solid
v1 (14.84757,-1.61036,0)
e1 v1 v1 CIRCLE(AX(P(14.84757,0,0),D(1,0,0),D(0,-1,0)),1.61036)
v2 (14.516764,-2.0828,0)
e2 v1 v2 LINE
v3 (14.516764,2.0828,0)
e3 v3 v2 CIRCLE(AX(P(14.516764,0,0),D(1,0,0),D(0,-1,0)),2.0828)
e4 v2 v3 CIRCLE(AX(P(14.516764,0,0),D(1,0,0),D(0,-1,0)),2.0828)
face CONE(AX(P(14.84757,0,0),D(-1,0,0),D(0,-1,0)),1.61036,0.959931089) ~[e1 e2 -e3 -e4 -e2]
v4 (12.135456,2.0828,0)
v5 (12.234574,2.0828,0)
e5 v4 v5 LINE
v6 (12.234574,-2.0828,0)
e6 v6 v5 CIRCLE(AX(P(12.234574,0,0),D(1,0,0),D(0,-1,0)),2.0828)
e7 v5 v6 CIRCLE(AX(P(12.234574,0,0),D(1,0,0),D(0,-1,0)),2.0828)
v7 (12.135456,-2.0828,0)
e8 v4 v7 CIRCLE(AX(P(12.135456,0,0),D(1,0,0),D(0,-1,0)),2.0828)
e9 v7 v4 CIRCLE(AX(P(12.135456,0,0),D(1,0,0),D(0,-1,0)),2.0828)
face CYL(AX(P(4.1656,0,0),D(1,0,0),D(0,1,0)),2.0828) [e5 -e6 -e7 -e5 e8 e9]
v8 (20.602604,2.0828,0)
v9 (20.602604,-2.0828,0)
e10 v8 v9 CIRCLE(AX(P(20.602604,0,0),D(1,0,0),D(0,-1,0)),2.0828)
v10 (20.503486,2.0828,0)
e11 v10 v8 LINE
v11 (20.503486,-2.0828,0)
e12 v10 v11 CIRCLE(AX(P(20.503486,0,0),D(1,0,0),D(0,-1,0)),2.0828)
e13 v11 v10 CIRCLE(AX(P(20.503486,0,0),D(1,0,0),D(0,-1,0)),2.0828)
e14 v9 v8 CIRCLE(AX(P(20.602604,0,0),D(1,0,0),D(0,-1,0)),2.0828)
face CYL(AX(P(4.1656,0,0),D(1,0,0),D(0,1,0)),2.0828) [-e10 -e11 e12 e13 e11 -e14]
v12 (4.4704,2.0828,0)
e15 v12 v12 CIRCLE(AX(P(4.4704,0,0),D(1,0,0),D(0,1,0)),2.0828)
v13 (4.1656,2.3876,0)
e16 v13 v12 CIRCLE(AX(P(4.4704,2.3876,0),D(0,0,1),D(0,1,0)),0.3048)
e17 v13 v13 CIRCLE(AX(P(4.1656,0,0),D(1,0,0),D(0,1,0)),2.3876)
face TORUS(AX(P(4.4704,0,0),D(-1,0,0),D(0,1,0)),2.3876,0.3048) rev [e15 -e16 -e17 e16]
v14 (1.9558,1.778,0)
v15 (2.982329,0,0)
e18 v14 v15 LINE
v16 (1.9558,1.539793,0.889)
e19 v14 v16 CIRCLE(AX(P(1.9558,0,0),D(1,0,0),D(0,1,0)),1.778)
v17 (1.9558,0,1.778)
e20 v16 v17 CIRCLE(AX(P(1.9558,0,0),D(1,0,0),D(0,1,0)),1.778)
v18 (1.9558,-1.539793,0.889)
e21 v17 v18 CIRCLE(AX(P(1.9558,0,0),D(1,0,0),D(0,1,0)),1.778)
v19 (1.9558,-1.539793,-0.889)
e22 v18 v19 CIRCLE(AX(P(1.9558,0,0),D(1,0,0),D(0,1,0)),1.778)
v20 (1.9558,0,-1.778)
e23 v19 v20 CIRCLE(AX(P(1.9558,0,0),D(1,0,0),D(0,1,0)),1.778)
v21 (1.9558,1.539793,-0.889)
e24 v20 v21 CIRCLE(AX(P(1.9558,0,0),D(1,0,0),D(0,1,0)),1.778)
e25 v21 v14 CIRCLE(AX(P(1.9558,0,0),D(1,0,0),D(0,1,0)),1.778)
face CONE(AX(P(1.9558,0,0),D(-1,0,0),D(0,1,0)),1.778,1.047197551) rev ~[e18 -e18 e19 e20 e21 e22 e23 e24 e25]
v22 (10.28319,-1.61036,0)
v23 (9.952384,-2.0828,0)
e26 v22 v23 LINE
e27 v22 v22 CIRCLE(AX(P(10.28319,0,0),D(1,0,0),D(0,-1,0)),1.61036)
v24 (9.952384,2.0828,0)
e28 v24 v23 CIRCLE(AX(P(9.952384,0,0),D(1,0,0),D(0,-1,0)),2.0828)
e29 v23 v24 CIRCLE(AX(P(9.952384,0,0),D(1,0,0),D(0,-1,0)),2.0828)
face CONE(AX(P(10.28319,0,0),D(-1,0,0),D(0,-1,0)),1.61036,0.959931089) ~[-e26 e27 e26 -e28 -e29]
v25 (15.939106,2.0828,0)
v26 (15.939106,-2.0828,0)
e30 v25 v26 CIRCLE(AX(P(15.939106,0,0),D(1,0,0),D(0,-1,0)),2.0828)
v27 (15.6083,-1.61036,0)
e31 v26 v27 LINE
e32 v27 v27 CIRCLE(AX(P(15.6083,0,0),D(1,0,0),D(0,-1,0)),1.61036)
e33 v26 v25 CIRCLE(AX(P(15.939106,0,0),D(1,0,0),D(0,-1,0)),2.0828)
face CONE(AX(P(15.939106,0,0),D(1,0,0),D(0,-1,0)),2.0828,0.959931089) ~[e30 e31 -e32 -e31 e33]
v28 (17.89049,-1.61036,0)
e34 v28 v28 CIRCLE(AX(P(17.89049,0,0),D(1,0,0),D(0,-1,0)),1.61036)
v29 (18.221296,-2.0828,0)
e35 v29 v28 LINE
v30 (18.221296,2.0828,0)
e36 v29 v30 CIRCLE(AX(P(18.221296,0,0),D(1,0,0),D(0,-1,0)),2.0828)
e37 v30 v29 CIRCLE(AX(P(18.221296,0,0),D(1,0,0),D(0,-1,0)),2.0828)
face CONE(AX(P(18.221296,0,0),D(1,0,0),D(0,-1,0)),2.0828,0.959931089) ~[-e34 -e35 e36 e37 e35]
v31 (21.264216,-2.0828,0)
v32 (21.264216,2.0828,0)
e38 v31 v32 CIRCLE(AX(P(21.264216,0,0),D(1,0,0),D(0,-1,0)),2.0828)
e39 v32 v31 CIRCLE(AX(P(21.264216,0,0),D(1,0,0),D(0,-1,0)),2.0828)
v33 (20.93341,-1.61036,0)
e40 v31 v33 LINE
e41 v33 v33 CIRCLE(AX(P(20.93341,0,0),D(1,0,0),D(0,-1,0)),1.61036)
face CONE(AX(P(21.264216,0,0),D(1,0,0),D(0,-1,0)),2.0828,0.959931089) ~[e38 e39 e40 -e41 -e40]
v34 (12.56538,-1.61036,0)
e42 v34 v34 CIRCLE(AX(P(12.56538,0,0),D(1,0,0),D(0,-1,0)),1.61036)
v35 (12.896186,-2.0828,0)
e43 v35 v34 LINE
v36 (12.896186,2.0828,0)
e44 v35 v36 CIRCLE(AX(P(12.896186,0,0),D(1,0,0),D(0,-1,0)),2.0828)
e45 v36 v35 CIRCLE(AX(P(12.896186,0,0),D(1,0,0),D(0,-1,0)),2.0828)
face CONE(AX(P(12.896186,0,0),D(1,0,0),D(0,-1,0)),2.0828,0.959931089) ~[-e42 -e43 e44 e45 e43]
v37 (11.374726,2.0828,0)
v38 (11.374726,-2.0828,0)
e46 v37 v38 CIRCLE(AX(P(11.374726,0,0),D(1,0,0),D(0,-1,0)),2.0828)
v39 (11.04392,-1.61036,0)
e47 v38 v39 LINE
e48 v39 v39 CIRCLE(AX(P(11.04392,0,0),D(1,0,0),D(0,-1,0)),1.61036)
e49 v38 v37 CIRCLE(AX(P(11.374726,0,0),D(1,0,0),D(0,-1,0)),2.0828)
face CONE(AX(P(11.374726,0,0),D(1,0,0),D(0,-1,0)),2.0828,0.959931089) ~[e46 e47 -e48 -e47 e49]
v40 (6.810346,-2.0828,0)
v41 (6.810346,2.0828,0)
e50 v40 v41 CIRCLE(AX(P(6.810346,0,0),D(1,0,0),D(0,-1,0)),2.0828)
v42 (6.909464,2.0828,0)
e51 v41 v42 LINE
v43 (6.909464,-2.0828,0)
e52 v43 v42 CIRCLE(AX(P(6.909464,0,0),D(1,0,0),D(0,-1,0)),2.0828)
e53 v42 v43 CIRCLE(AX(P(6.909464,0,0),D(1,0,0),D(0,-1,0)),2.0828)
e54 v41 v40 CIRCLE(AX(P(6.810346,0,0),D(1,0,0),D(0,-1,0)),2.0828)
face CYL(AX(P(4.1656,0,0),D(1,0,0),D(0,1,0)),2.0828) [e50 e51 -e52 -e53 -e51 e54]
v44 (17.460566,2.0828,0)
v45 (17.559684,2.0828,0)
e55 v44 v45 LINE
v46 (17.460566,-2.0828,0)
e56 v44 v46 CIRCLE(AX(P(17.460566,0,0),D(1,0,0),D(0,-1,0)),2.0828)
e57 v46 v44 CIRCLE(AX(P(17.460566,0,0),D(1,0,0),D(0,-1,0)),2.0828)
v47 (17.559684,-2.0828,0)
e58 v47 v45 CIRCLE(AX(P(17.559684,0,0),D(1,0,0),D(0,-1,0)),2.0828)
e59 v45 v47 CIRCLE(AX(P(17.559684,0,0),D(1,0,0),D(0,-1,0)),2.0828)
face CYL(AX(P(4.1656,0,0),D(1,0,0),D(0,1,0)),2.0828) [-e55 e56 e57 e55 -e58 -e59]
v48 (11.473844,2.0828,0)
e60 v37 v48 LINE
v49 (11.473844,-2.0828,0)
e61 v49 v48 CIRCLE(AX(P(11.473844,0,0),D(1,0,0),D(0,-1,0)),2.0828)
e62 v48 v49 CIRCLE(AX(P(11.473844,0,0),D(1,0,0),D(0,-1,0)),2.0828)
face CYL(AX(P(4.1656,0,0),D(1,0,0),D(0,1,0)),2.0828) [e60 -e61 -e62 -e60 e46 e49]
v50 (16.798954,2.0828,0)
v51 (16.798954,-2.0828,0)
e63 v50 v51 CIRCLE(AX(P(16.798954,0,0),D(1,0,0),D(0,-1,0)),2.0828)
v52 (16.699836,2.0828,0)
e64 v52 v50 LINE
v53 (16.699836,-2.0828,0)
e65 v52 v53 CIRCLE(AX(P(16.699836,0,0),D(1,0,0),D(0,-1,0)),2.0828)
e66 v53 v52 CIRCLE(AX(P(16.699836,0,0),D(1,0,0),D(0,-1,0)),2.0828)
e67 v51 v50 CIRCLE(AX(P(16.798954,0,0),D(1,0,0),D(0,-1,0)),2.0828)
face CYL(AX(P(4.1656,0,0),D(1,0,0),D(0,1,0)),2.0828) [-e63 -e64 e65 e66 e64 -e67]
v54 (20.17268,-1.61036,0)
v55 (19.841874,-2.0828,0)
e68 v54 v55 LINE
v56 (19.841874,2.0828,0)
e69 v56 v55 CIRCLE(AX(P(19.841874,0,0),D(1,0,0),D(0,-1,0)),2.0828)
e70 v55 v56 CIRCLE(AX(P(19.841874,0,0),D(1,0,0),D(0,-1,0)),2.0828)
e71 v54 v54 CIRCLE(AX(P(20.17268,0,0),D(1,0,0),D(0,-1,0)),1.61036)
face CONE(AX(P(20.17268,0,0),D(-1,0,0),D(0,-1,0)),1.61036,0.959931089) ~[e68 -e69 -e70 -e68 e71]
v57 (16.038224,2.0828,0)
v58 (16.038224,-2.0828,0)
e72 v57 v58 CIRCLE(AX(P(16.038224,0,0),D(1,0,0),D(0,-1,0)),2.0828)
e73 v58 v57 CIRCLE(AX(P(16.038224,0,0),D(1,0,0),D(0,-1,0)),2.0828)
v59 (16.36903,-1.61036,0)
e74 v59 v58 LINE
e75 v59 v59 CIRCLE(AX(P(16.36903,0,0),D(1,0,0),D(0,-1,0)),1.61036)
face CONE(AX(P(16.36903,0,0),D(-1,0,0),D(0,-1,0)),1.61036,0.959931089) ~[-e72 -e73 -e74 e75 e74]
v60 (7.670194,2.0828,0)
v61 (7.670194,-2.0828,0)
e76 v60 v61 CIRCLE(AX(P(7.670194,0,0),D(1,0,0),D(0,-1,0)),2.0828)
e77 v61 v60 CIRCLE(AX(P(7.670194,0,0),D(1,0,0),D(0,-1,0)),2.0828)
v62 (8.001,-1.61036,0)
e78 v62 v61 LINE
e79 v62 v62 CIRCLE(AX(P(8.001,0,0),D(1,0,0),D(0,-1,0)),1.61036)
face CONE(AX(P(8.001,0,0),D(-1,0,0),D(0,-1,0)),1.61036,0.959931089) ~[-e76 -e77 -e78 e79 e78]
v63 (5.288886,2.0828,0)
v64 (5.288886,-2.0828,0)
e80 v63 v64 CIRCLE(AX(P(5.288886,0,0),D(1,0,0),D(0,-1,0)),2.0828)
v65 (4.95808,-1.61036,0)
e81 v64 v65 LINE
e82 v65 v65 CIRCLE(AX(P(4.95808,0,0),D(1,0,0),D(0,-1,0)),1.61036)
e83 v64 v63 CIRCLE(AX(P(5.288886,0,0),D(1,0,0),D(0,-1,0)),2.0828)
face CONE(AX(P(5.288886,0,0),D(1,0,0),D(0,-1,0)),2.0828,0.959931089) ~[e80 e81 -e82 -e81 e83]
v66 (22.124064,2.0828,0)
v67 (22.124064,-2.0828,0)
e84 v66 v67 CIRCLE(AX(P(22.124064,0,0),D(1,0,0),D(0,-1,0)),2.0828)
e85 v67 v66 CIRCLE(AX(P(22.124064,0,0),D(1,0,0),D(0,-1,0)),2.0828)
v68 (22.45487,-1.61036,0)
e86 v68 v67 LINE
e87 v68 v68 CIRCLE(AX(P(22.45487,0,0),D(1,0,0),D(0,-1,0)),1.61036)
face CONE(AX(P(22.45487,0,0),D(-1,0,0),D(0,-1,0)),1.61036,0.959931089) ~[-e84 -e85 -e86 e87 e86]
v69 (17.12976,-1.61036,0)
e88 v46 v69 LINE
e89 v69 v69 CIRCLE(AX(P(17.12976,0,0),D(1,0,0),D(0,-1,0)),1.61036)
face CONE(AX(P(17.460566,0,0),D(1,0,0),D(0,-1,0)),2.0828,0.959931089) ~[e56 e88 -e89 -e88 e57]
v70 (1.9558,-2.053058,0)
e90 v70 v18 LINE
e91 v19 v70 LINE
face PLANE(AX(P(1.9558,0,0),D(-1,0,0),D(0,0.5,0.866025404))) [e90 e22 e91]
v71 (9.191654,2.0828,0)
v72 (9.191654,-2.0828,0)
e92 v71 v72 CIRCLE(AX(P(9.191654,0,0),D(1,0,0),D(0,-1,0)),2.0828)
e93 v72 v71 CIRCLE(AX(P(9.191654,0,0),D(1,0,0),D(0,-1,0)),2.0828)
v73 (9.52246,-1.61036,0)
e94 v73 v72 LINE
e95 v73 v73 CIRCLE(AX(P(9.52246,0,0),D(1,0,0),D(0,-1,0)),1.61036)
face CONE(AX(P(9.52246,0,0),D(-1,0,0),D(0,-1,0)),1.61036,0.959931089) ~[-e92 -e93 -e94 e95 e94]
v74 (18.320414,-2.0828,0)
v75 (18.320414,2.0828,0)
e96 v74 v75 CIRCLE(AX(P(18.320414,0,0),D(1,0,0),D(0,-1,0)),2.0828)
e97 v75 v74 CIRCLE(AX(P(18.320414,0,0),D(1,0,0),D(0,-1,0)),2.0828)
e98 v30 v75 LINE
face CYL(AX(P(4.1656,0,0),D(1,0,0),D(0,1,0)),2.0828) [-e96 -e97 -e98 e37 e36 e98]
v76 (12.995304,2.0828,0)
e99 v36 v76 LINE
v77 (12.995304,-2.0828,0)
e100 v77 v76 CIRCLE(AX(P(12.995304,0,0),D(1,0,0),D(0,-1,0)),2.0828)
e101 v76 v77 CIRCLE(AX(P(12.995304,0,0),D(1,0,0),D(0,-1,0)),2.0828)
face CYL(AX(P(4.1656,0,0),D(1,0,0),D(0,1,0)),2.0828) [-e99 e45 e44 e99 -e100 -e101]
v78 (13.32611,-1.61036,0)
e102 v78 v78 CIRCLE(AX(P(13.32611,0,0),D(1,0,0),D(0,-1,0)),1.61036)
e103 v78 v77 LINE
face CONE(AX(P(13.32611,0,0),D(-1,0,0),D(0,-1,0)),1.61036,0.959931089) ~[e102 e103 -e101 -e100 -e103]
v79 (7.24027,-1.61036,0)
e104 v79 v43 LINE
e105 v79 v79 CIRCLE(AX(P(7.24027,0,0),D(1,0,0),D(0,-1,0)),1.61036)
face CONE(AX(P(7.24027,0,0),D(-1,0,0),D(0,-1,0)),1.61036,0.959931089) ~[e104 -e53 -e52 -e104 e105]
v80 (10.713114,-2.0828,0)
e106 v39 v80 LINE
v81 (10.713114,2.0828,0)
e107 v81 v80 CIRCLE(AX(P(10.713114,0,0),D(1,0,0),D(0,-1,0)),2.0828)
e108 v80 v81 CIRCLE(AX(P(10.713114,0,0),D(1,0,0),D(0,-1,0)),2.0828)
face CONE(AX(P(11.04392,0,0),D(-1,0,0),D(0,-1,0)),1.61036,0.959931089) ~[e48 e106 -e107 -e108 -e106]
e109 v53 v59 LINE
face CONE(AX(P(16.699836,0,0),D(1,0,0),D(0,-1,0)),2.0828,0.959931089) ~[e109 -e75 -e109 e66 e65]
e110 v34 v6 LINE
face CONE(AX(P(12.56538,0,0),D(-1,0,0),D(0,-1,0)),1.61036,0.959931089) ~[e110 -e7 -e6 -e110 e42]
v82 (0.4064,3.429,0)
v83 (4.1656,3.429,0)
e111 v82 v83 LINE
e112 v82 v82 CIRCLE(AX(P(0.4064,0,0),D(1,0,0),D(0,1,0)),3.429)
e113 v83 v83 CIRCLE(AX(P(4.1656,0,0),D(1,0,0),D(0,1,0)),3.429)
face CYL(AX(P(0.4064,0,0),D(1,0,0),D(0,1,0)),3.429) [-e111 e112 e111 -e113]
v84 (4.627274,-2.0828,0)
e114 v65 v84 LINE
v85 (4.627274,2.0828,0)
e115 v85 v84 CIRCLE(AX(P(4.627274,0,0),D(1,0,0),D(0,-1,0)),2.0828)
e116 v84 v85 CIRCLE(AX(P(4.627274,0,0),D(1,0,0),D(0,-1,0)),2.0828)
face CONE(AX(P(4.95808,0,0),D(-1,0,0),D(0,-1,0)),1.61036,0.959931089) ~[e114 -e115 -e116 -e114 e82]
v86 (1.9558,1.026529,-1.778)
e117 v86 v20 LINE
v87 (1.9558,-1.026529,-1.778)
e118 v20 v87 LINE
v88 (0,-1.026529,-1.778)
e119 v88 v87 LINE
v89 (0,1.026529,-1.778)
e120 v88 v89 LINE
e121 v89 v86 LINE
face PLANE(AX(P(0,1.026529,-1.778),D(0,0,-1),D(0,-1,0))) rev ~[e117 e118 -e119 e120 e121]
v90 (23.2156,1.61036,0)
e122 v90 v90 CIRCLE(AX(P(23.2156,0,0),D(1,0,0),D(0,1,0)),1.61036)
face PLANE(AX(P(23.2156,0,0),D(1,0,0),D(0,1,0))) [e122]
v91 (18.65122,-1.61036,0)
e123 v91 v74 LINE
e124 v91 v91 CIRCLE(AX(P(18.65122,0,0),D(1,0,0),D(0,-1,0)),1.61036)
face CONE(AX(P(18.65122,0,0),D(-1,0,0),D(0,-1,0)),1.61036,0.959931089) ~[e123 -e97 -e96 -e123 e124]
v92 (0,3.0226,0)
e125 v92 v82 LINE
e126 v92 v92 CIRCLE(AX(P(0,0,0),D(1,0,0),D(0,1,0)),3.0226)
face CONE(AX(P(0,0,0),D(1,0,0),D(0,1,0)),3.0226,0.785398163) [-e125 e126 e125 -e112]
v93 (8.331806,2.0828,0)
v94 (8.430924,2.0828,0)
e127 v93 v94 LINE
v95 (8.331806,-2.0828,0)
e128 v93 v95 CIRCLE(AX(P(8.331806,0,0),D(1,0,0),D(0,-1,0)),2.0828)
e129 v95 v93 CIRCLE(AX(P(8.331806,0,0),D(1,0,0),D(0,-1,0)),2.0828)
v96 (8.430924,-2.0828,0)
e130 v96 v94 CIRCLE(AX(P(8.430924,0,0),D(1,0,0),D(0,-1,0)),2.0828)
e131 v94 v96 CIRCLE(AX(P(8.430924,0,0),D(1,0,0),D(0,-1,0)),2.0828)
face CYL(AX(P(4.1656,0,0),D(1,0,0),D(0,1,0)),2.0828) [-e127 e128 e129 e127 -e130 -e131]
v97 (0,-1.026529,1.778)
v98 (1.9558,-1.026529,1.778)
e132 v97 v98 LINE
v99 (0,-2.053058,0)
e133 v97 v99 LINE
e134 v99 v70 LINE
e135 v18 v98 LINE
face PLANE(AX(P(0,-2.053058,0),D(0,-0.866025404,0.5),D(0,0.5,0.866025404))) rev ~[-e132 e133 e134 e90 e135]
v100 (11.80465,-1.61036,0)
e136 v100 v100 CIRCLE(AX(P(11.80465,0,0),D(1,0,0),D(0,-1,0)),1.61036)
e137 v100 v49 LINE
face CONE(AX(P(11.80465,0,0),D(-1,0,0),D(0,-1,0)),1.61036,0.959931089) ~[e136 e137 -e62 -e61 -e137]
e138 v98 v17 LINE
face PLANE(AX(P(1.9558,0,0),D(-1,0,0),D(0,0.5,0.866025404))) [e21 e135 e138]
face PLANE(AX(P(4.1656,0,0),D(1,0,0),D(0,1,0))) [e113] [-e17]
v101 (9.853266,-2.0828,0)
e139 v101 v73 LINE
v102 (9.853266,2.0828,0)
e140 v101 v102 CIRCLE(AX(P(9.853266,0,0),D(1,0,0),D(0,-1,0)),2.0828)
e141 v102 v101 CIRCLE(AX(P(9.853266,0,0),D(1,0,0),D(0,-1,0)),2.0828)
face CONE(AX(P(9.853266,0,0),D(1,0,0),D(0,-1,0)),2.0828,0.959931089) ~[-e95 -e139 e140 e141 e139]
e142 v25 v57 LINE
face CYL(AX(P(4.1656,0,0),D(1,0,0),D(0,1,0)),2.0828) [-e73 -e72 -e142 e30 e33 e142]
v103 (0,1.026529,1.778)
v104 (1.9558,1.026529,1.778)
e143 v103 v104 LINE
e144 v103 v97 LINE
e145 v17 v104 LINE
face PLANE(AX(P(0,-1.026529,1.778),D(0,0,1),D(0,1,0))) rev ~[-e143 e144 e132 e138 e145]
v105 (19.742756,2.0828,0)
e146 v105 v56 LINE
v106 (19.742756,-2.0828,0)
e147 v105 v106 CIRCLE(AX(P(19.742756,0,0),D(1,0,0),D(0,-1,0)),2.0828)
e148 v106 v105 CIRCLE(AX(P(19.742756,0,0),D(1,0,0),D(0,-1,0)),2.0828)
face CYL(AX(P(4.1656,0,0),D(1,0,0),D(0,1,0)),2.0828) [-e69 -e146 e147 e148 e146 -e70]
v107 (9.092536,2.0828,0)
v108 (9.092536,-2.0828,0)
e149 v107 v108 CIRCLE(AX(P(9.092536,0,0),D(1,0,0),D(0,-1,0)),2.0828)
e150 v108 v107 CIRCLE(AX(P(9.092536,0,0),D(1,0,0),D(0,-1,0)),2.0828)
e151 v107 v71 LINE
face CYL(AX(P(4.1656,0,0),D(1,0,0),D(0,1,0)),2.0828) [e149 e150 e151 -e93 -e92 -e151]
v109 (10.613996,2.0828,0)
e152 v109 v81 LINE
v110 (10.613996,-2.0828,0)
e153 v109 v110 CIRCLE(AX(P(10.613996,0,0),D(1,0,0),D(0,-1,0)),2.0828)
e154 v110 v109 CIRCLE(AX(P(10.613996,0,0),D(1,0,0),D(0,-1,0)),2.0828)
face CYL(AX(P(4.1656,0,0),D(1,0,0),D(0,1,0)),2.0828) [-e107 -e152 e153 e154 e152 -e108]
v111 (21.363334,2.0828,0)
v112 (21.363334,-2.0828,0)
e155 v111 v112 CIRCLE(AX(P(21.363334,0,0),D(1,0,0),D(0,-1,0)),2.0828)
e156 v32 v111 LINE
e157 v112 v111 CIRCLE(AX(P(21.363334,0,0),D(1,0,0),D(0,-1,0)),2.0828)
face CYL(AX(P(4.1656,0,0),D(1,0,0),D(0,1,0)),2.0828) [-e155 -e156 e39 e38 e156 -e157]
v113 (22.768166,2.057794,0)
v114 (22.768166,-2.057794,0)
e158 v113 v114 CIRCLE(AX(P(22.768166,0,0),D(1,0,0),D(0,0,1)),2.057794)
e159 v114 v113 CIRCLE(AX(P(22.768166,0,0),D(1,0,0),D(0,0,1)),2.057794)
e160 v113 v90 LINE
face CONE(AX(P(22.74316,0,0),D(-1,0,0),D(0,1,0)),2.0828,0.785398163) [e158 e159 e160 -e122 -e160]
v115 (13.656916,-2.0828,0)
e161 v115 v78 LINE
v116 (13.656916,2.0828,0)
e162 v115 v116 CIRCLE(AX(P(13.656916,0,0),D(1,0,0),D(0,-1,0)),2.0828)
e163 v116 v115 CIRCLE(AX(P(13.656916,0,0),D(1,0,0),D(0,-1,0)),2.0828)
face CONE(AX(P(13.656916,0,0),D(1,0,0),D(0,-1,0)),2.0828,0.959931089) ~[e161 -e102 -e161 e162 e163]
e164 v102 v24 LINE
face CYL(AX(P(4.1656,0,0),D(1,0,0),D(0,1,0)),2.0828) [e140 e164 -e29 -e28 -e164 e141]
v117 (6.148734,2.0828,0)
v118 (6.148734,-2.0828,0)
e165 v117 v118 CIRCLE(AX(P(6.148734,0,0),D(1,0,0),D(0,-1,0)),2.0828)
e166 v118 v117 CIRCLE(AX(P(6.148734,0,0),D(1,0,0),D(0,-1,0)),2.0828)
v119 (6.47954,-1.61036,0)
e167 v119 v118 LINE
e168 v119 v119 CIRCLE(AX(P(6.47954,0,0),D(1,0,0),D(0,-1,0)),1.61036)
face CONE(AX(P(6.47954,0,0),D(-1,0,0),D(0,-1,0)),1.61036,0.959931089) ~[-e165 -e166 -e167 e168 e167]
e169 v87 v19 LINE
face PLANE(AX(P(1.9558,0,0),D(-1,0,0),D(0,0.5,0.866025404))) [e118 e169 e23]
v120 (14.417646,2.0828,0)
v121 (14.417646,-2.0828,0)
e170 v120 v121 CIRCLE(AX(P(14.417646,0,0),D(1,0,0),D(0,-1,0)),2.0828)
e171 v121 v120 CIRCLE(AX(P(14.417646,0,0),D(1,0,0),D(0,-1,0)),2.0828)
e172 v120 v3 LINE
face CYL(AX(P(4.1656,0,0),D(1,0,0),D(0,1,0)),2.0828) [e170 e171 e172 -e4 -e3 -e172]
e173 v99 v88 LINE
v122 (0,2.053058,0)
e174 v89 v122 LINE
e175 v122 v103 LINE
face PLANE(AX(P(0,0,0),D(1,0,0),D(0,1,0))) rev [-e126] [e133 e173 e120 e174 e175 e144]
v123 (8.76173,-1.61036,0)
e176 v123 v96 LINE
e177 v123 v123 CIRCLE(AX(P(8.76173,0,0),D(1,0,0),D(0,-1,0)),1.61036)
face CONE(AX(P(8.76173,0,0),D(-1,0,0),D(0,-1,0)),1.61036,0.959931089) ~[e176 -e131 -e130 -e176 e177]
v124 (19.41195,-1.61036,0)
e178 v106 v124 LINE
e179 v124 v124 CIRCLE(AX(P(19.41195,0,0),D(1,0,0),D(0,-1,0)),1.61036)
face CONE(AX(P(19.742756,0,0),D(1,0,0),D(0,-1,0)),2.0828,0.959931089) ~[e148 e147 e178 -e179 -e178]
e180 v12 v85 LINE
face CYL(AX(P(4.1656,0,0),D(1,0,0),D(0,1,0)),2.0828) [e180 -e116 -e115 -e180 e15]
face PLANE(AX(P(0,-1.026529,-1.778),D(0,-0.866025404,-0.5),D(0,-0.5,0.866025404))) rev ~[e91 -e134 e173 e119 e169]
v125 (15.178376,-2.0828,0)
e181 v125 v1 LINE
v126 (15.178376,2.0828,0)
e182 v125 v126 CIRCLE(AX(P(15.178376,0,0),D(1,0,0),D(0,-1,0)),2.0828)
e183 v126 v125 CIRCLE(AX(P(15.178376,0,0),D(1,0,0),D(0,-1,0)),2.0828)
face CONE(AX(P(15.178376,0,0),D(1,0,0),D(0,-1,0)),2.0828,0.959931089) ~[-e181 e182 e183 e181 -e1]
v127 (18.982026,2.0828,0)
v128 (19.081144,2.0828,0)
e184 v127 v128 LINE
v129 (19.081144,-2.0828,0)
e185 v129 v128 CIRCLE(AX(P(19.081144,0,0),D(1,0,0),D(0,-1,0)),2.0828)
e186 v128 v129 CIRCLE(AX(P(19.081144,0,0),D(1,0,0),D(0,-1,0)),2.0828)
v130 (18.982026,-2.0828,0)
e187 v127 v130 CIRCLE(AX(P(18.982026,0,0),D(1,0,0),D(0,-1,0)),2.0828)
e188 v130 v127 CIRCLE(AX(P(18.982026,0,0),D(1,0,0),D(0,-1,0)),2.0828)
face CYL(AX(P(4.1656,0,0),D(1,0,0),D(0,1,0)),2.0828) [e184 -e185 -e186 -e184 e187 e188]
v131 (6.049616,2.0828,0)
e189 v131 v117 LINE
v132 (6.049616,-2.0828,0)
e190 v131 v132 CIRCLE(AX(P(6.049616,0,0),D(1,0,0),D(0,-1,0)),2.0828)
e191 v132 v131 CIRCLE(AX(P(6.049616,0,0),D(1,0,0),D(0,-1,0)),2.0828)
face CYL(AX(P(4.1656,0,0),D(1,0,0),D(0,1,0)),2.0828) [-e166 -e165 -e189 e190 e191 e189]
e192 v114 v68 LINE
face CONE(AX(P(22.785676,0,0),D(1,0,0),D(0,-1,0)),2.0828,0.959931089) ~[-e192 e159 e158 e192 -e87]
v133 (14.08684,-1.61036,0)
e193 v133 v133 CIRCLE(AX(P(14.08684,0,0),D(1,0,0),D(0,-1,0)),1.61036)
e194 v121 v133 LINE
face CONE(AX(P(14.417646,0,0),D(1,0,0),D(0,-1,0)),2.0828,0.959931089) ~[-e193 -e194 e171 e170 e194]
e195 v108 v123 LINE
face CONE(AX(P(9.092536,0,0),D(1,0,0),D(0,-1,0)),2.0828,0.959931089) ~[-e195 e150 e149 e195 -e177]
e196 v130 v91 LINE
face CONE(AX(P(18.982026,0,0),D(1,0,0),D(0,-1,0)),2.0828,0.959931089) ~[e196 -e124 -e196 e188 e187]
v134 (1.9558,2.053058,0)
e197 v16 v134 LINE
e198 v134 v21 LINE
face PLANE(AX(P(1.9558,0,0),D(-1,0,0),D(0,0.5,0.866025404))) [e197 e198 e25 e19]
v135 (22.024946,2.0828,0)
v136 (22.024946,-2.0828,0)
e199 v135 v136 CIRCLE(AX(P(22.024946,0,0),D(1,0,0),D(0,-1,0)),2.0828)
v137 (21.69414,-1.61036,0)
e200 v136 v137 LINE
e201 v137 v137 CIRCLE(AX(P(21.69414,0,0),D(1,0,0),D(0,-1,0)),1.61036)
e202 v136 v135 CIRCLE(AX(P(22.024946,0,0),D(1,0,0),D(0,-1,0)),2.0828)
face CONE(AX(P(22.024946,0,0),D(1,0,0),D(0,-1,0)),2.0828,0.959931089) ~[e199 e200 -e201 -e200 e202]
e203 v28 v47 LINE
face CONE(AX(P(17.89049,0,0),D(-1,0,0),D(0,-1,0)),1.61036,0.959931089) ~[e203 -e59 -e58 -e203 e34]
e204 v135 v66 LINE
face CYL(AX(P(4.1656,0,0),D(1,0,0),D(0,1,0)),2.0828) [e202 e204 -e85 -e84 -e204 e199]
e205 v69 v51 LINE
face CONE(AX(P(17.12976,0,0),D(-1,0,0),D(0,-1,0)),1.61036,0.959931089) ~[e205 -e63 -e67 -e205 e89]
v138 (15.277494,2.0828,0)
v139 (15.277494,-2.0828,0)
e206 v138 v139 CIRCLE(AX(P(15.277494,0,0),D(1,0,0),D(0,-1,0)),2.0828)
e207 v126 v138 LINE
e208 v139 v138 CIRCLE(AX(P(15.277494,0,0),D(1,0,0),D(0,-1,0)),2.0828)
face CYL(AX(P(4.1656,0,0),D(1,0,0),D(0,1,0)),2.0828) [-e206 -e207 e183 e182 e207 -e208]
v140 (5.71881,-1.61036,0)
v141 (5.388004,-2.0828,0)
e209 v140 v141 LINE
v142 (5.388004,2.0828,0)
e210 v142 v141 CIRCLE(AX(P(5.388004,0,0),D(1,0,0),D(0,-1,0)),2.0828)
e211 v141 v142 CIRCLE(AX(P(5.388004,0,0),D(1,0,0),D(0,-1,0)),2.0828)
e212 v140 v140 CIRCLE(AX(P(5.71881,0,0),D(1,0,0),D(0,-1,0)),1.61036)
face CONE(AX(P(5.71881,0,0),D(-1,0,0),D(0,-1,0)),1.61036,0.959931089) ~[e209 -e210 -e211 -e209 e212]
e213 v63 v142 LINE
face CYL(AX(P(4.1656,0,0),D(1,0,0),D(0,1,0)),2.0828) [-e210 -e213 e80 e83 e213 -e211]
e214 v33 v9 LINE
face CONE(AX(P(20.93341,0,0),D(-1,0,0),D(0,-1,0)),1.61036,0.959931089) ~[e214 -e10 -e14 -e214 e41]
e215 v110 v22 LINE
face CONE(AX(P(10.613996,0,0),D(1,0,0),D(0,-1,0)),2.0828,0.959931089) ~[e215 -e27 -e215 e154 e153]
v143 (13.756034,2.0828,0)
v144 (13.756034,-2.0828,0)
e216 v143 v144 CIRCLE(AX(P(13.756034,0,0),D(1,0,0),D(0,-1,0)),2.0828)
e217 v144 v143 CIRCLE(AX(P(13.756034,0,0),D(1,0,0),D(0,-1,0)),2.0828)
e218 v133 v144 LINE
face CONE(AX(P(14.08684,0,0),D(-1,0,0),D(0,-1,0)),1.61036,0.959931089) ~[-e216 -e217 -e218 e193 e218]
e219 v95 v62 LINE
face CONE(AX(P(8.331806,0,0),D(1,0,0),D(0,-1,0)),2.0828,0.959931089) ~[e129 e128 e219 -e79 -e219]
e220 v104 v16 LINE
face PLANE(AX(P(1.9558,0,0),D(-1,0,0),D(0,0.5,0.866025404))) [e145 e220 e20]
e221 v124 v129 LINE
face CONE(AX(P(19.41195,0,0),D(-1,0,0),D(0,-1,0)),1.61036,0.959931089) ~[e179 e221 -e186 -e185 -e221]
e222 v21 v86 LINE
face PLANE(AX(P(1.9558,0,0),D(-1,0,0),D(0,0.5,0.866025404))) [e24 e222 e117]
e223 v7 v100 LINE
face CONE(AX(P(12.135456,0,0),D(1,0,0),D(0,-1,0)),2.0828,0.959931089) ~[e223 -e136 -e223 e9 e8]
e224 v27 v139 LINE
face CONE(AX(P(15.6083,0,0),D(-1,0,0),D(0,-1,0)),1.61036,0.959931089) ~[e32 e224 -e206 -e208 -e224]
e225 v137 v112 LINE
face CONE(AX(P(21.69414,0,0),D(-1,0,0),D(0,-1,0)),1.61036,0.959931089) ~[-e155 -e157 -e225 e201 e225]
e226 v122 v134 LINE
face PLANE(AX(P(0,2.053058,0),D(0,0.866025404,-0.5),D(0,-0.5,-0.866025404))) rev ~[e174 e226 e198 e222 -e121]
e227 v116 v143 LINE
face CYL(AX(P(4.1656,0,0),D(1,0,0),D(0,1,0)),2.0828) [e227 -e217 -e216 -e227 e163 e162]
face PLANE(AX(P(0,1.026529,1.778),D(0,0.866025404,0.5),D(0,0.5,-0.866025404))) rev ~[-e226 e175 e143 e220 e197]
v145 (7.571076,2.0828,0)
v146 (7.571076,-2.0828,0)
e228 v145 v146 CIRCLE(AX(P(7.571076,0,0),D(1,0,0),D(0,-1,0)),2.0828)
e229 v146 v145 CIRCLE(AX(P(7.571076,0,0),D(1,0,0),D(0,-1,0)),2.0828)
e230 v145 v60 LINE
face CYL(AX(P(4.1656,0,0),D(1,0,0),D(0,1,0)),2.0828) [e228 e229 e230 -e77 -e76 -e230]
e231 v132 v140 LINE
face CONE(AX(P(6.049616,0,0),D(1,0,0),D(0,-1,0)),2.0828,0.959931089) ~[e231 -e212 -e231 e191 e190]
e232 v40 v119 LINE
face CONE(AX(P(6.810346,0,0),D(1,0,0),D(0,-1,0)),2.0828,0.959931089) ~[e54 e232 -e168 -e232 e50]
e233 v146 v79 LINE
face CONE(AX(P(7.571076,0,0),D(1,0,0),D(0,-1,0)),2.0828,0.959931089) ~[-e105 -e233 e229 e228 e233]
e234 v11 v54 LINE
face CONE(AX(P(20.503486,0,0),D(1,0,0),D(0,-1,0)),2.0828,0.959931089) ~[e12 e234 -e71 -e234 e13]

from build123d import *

# Parameters (mm, degrees)
FILLET1_R       = 0.3048
HEX_2_DEPTH     = 1.9558
THDSCHPAT_COUNT = 24
THDSCHPAT_PITCH = 0.76073


with BuildPart() as part:
    # BodySke → Base-Revolve (revolve)
    with BuildSketch(Plane.XY):
        Polygon((0, 0), (0, 3.0226), (0.4064, 3.429), (4.1656, 3.429), (4.1656, 2.0828), (22.74316, 2.0828), (23.2156, 1.61036), (23.2156, 0), align=None)
    revolve(axis=Axis((-31.75, 0, 0), (1, 0, 0)))

    # Fillet1
    fillet1_edges = [part.edges().sort_by_distance(p)[0] for p in [
        (4.1656, -2.0828, 0),
    ]]
    fillet(fillet1_edges, radius=FILLET1_R)

    # Sketch2 → Hex-PreBroach (revolve, cut)
    with BuildSketch(Plane.XY):
        Polygon((0, 1.778), (1.9558, 1.778), (2.982328779, 0), (0, 0), align=None)
    revolve(axis=Axis((0, 0, 0), (1, 0, 0)), mode=Mode.SUBTRACT)

    # Sketch3 → Hex 2 (cut)
    with BuildSketch(Plane(origin=(0, 0, 0), x_dir=(0, 0.5, 0.866025404), z_dir=(-1, 0, 0))):
        Polygon((1.026528779, 1.778), (-1.026528779, 1.778), (-2.053057557, 0), (-1.026528779, -1.778), (1.026528779, -1.778), (2.053057557, 0), align=None)
    extrude(amount=-HEX_2_DEPTH, mode=Mode.SUBTRACT)

    # ThdSchSke → ThreadSchematic (revolve, cut)
    with BuildSketch(Plane.XY):
        Polygon((4.95808, -1.61036), (4.627273951, -2.0828), (4.627273951, -2.6035), (5.288886049, -2.6035), (5.288886049, -2.0828), align=None)
    threadschematic = revolve(axis=Axis((-3.175, 0, 0), (1, 0, 0)), mode=Mode.SUBTRACT)

    # ThdSchPat: ThreadSchematic ×24
    with Locations(*[(i * THDSCHPAT_PITCH, 0, 0) for i in range(1, THDSCHPAT_COUNT)]):
        add(threadschematic, mode=Mode.SUBTRACT)


solid = part.part
